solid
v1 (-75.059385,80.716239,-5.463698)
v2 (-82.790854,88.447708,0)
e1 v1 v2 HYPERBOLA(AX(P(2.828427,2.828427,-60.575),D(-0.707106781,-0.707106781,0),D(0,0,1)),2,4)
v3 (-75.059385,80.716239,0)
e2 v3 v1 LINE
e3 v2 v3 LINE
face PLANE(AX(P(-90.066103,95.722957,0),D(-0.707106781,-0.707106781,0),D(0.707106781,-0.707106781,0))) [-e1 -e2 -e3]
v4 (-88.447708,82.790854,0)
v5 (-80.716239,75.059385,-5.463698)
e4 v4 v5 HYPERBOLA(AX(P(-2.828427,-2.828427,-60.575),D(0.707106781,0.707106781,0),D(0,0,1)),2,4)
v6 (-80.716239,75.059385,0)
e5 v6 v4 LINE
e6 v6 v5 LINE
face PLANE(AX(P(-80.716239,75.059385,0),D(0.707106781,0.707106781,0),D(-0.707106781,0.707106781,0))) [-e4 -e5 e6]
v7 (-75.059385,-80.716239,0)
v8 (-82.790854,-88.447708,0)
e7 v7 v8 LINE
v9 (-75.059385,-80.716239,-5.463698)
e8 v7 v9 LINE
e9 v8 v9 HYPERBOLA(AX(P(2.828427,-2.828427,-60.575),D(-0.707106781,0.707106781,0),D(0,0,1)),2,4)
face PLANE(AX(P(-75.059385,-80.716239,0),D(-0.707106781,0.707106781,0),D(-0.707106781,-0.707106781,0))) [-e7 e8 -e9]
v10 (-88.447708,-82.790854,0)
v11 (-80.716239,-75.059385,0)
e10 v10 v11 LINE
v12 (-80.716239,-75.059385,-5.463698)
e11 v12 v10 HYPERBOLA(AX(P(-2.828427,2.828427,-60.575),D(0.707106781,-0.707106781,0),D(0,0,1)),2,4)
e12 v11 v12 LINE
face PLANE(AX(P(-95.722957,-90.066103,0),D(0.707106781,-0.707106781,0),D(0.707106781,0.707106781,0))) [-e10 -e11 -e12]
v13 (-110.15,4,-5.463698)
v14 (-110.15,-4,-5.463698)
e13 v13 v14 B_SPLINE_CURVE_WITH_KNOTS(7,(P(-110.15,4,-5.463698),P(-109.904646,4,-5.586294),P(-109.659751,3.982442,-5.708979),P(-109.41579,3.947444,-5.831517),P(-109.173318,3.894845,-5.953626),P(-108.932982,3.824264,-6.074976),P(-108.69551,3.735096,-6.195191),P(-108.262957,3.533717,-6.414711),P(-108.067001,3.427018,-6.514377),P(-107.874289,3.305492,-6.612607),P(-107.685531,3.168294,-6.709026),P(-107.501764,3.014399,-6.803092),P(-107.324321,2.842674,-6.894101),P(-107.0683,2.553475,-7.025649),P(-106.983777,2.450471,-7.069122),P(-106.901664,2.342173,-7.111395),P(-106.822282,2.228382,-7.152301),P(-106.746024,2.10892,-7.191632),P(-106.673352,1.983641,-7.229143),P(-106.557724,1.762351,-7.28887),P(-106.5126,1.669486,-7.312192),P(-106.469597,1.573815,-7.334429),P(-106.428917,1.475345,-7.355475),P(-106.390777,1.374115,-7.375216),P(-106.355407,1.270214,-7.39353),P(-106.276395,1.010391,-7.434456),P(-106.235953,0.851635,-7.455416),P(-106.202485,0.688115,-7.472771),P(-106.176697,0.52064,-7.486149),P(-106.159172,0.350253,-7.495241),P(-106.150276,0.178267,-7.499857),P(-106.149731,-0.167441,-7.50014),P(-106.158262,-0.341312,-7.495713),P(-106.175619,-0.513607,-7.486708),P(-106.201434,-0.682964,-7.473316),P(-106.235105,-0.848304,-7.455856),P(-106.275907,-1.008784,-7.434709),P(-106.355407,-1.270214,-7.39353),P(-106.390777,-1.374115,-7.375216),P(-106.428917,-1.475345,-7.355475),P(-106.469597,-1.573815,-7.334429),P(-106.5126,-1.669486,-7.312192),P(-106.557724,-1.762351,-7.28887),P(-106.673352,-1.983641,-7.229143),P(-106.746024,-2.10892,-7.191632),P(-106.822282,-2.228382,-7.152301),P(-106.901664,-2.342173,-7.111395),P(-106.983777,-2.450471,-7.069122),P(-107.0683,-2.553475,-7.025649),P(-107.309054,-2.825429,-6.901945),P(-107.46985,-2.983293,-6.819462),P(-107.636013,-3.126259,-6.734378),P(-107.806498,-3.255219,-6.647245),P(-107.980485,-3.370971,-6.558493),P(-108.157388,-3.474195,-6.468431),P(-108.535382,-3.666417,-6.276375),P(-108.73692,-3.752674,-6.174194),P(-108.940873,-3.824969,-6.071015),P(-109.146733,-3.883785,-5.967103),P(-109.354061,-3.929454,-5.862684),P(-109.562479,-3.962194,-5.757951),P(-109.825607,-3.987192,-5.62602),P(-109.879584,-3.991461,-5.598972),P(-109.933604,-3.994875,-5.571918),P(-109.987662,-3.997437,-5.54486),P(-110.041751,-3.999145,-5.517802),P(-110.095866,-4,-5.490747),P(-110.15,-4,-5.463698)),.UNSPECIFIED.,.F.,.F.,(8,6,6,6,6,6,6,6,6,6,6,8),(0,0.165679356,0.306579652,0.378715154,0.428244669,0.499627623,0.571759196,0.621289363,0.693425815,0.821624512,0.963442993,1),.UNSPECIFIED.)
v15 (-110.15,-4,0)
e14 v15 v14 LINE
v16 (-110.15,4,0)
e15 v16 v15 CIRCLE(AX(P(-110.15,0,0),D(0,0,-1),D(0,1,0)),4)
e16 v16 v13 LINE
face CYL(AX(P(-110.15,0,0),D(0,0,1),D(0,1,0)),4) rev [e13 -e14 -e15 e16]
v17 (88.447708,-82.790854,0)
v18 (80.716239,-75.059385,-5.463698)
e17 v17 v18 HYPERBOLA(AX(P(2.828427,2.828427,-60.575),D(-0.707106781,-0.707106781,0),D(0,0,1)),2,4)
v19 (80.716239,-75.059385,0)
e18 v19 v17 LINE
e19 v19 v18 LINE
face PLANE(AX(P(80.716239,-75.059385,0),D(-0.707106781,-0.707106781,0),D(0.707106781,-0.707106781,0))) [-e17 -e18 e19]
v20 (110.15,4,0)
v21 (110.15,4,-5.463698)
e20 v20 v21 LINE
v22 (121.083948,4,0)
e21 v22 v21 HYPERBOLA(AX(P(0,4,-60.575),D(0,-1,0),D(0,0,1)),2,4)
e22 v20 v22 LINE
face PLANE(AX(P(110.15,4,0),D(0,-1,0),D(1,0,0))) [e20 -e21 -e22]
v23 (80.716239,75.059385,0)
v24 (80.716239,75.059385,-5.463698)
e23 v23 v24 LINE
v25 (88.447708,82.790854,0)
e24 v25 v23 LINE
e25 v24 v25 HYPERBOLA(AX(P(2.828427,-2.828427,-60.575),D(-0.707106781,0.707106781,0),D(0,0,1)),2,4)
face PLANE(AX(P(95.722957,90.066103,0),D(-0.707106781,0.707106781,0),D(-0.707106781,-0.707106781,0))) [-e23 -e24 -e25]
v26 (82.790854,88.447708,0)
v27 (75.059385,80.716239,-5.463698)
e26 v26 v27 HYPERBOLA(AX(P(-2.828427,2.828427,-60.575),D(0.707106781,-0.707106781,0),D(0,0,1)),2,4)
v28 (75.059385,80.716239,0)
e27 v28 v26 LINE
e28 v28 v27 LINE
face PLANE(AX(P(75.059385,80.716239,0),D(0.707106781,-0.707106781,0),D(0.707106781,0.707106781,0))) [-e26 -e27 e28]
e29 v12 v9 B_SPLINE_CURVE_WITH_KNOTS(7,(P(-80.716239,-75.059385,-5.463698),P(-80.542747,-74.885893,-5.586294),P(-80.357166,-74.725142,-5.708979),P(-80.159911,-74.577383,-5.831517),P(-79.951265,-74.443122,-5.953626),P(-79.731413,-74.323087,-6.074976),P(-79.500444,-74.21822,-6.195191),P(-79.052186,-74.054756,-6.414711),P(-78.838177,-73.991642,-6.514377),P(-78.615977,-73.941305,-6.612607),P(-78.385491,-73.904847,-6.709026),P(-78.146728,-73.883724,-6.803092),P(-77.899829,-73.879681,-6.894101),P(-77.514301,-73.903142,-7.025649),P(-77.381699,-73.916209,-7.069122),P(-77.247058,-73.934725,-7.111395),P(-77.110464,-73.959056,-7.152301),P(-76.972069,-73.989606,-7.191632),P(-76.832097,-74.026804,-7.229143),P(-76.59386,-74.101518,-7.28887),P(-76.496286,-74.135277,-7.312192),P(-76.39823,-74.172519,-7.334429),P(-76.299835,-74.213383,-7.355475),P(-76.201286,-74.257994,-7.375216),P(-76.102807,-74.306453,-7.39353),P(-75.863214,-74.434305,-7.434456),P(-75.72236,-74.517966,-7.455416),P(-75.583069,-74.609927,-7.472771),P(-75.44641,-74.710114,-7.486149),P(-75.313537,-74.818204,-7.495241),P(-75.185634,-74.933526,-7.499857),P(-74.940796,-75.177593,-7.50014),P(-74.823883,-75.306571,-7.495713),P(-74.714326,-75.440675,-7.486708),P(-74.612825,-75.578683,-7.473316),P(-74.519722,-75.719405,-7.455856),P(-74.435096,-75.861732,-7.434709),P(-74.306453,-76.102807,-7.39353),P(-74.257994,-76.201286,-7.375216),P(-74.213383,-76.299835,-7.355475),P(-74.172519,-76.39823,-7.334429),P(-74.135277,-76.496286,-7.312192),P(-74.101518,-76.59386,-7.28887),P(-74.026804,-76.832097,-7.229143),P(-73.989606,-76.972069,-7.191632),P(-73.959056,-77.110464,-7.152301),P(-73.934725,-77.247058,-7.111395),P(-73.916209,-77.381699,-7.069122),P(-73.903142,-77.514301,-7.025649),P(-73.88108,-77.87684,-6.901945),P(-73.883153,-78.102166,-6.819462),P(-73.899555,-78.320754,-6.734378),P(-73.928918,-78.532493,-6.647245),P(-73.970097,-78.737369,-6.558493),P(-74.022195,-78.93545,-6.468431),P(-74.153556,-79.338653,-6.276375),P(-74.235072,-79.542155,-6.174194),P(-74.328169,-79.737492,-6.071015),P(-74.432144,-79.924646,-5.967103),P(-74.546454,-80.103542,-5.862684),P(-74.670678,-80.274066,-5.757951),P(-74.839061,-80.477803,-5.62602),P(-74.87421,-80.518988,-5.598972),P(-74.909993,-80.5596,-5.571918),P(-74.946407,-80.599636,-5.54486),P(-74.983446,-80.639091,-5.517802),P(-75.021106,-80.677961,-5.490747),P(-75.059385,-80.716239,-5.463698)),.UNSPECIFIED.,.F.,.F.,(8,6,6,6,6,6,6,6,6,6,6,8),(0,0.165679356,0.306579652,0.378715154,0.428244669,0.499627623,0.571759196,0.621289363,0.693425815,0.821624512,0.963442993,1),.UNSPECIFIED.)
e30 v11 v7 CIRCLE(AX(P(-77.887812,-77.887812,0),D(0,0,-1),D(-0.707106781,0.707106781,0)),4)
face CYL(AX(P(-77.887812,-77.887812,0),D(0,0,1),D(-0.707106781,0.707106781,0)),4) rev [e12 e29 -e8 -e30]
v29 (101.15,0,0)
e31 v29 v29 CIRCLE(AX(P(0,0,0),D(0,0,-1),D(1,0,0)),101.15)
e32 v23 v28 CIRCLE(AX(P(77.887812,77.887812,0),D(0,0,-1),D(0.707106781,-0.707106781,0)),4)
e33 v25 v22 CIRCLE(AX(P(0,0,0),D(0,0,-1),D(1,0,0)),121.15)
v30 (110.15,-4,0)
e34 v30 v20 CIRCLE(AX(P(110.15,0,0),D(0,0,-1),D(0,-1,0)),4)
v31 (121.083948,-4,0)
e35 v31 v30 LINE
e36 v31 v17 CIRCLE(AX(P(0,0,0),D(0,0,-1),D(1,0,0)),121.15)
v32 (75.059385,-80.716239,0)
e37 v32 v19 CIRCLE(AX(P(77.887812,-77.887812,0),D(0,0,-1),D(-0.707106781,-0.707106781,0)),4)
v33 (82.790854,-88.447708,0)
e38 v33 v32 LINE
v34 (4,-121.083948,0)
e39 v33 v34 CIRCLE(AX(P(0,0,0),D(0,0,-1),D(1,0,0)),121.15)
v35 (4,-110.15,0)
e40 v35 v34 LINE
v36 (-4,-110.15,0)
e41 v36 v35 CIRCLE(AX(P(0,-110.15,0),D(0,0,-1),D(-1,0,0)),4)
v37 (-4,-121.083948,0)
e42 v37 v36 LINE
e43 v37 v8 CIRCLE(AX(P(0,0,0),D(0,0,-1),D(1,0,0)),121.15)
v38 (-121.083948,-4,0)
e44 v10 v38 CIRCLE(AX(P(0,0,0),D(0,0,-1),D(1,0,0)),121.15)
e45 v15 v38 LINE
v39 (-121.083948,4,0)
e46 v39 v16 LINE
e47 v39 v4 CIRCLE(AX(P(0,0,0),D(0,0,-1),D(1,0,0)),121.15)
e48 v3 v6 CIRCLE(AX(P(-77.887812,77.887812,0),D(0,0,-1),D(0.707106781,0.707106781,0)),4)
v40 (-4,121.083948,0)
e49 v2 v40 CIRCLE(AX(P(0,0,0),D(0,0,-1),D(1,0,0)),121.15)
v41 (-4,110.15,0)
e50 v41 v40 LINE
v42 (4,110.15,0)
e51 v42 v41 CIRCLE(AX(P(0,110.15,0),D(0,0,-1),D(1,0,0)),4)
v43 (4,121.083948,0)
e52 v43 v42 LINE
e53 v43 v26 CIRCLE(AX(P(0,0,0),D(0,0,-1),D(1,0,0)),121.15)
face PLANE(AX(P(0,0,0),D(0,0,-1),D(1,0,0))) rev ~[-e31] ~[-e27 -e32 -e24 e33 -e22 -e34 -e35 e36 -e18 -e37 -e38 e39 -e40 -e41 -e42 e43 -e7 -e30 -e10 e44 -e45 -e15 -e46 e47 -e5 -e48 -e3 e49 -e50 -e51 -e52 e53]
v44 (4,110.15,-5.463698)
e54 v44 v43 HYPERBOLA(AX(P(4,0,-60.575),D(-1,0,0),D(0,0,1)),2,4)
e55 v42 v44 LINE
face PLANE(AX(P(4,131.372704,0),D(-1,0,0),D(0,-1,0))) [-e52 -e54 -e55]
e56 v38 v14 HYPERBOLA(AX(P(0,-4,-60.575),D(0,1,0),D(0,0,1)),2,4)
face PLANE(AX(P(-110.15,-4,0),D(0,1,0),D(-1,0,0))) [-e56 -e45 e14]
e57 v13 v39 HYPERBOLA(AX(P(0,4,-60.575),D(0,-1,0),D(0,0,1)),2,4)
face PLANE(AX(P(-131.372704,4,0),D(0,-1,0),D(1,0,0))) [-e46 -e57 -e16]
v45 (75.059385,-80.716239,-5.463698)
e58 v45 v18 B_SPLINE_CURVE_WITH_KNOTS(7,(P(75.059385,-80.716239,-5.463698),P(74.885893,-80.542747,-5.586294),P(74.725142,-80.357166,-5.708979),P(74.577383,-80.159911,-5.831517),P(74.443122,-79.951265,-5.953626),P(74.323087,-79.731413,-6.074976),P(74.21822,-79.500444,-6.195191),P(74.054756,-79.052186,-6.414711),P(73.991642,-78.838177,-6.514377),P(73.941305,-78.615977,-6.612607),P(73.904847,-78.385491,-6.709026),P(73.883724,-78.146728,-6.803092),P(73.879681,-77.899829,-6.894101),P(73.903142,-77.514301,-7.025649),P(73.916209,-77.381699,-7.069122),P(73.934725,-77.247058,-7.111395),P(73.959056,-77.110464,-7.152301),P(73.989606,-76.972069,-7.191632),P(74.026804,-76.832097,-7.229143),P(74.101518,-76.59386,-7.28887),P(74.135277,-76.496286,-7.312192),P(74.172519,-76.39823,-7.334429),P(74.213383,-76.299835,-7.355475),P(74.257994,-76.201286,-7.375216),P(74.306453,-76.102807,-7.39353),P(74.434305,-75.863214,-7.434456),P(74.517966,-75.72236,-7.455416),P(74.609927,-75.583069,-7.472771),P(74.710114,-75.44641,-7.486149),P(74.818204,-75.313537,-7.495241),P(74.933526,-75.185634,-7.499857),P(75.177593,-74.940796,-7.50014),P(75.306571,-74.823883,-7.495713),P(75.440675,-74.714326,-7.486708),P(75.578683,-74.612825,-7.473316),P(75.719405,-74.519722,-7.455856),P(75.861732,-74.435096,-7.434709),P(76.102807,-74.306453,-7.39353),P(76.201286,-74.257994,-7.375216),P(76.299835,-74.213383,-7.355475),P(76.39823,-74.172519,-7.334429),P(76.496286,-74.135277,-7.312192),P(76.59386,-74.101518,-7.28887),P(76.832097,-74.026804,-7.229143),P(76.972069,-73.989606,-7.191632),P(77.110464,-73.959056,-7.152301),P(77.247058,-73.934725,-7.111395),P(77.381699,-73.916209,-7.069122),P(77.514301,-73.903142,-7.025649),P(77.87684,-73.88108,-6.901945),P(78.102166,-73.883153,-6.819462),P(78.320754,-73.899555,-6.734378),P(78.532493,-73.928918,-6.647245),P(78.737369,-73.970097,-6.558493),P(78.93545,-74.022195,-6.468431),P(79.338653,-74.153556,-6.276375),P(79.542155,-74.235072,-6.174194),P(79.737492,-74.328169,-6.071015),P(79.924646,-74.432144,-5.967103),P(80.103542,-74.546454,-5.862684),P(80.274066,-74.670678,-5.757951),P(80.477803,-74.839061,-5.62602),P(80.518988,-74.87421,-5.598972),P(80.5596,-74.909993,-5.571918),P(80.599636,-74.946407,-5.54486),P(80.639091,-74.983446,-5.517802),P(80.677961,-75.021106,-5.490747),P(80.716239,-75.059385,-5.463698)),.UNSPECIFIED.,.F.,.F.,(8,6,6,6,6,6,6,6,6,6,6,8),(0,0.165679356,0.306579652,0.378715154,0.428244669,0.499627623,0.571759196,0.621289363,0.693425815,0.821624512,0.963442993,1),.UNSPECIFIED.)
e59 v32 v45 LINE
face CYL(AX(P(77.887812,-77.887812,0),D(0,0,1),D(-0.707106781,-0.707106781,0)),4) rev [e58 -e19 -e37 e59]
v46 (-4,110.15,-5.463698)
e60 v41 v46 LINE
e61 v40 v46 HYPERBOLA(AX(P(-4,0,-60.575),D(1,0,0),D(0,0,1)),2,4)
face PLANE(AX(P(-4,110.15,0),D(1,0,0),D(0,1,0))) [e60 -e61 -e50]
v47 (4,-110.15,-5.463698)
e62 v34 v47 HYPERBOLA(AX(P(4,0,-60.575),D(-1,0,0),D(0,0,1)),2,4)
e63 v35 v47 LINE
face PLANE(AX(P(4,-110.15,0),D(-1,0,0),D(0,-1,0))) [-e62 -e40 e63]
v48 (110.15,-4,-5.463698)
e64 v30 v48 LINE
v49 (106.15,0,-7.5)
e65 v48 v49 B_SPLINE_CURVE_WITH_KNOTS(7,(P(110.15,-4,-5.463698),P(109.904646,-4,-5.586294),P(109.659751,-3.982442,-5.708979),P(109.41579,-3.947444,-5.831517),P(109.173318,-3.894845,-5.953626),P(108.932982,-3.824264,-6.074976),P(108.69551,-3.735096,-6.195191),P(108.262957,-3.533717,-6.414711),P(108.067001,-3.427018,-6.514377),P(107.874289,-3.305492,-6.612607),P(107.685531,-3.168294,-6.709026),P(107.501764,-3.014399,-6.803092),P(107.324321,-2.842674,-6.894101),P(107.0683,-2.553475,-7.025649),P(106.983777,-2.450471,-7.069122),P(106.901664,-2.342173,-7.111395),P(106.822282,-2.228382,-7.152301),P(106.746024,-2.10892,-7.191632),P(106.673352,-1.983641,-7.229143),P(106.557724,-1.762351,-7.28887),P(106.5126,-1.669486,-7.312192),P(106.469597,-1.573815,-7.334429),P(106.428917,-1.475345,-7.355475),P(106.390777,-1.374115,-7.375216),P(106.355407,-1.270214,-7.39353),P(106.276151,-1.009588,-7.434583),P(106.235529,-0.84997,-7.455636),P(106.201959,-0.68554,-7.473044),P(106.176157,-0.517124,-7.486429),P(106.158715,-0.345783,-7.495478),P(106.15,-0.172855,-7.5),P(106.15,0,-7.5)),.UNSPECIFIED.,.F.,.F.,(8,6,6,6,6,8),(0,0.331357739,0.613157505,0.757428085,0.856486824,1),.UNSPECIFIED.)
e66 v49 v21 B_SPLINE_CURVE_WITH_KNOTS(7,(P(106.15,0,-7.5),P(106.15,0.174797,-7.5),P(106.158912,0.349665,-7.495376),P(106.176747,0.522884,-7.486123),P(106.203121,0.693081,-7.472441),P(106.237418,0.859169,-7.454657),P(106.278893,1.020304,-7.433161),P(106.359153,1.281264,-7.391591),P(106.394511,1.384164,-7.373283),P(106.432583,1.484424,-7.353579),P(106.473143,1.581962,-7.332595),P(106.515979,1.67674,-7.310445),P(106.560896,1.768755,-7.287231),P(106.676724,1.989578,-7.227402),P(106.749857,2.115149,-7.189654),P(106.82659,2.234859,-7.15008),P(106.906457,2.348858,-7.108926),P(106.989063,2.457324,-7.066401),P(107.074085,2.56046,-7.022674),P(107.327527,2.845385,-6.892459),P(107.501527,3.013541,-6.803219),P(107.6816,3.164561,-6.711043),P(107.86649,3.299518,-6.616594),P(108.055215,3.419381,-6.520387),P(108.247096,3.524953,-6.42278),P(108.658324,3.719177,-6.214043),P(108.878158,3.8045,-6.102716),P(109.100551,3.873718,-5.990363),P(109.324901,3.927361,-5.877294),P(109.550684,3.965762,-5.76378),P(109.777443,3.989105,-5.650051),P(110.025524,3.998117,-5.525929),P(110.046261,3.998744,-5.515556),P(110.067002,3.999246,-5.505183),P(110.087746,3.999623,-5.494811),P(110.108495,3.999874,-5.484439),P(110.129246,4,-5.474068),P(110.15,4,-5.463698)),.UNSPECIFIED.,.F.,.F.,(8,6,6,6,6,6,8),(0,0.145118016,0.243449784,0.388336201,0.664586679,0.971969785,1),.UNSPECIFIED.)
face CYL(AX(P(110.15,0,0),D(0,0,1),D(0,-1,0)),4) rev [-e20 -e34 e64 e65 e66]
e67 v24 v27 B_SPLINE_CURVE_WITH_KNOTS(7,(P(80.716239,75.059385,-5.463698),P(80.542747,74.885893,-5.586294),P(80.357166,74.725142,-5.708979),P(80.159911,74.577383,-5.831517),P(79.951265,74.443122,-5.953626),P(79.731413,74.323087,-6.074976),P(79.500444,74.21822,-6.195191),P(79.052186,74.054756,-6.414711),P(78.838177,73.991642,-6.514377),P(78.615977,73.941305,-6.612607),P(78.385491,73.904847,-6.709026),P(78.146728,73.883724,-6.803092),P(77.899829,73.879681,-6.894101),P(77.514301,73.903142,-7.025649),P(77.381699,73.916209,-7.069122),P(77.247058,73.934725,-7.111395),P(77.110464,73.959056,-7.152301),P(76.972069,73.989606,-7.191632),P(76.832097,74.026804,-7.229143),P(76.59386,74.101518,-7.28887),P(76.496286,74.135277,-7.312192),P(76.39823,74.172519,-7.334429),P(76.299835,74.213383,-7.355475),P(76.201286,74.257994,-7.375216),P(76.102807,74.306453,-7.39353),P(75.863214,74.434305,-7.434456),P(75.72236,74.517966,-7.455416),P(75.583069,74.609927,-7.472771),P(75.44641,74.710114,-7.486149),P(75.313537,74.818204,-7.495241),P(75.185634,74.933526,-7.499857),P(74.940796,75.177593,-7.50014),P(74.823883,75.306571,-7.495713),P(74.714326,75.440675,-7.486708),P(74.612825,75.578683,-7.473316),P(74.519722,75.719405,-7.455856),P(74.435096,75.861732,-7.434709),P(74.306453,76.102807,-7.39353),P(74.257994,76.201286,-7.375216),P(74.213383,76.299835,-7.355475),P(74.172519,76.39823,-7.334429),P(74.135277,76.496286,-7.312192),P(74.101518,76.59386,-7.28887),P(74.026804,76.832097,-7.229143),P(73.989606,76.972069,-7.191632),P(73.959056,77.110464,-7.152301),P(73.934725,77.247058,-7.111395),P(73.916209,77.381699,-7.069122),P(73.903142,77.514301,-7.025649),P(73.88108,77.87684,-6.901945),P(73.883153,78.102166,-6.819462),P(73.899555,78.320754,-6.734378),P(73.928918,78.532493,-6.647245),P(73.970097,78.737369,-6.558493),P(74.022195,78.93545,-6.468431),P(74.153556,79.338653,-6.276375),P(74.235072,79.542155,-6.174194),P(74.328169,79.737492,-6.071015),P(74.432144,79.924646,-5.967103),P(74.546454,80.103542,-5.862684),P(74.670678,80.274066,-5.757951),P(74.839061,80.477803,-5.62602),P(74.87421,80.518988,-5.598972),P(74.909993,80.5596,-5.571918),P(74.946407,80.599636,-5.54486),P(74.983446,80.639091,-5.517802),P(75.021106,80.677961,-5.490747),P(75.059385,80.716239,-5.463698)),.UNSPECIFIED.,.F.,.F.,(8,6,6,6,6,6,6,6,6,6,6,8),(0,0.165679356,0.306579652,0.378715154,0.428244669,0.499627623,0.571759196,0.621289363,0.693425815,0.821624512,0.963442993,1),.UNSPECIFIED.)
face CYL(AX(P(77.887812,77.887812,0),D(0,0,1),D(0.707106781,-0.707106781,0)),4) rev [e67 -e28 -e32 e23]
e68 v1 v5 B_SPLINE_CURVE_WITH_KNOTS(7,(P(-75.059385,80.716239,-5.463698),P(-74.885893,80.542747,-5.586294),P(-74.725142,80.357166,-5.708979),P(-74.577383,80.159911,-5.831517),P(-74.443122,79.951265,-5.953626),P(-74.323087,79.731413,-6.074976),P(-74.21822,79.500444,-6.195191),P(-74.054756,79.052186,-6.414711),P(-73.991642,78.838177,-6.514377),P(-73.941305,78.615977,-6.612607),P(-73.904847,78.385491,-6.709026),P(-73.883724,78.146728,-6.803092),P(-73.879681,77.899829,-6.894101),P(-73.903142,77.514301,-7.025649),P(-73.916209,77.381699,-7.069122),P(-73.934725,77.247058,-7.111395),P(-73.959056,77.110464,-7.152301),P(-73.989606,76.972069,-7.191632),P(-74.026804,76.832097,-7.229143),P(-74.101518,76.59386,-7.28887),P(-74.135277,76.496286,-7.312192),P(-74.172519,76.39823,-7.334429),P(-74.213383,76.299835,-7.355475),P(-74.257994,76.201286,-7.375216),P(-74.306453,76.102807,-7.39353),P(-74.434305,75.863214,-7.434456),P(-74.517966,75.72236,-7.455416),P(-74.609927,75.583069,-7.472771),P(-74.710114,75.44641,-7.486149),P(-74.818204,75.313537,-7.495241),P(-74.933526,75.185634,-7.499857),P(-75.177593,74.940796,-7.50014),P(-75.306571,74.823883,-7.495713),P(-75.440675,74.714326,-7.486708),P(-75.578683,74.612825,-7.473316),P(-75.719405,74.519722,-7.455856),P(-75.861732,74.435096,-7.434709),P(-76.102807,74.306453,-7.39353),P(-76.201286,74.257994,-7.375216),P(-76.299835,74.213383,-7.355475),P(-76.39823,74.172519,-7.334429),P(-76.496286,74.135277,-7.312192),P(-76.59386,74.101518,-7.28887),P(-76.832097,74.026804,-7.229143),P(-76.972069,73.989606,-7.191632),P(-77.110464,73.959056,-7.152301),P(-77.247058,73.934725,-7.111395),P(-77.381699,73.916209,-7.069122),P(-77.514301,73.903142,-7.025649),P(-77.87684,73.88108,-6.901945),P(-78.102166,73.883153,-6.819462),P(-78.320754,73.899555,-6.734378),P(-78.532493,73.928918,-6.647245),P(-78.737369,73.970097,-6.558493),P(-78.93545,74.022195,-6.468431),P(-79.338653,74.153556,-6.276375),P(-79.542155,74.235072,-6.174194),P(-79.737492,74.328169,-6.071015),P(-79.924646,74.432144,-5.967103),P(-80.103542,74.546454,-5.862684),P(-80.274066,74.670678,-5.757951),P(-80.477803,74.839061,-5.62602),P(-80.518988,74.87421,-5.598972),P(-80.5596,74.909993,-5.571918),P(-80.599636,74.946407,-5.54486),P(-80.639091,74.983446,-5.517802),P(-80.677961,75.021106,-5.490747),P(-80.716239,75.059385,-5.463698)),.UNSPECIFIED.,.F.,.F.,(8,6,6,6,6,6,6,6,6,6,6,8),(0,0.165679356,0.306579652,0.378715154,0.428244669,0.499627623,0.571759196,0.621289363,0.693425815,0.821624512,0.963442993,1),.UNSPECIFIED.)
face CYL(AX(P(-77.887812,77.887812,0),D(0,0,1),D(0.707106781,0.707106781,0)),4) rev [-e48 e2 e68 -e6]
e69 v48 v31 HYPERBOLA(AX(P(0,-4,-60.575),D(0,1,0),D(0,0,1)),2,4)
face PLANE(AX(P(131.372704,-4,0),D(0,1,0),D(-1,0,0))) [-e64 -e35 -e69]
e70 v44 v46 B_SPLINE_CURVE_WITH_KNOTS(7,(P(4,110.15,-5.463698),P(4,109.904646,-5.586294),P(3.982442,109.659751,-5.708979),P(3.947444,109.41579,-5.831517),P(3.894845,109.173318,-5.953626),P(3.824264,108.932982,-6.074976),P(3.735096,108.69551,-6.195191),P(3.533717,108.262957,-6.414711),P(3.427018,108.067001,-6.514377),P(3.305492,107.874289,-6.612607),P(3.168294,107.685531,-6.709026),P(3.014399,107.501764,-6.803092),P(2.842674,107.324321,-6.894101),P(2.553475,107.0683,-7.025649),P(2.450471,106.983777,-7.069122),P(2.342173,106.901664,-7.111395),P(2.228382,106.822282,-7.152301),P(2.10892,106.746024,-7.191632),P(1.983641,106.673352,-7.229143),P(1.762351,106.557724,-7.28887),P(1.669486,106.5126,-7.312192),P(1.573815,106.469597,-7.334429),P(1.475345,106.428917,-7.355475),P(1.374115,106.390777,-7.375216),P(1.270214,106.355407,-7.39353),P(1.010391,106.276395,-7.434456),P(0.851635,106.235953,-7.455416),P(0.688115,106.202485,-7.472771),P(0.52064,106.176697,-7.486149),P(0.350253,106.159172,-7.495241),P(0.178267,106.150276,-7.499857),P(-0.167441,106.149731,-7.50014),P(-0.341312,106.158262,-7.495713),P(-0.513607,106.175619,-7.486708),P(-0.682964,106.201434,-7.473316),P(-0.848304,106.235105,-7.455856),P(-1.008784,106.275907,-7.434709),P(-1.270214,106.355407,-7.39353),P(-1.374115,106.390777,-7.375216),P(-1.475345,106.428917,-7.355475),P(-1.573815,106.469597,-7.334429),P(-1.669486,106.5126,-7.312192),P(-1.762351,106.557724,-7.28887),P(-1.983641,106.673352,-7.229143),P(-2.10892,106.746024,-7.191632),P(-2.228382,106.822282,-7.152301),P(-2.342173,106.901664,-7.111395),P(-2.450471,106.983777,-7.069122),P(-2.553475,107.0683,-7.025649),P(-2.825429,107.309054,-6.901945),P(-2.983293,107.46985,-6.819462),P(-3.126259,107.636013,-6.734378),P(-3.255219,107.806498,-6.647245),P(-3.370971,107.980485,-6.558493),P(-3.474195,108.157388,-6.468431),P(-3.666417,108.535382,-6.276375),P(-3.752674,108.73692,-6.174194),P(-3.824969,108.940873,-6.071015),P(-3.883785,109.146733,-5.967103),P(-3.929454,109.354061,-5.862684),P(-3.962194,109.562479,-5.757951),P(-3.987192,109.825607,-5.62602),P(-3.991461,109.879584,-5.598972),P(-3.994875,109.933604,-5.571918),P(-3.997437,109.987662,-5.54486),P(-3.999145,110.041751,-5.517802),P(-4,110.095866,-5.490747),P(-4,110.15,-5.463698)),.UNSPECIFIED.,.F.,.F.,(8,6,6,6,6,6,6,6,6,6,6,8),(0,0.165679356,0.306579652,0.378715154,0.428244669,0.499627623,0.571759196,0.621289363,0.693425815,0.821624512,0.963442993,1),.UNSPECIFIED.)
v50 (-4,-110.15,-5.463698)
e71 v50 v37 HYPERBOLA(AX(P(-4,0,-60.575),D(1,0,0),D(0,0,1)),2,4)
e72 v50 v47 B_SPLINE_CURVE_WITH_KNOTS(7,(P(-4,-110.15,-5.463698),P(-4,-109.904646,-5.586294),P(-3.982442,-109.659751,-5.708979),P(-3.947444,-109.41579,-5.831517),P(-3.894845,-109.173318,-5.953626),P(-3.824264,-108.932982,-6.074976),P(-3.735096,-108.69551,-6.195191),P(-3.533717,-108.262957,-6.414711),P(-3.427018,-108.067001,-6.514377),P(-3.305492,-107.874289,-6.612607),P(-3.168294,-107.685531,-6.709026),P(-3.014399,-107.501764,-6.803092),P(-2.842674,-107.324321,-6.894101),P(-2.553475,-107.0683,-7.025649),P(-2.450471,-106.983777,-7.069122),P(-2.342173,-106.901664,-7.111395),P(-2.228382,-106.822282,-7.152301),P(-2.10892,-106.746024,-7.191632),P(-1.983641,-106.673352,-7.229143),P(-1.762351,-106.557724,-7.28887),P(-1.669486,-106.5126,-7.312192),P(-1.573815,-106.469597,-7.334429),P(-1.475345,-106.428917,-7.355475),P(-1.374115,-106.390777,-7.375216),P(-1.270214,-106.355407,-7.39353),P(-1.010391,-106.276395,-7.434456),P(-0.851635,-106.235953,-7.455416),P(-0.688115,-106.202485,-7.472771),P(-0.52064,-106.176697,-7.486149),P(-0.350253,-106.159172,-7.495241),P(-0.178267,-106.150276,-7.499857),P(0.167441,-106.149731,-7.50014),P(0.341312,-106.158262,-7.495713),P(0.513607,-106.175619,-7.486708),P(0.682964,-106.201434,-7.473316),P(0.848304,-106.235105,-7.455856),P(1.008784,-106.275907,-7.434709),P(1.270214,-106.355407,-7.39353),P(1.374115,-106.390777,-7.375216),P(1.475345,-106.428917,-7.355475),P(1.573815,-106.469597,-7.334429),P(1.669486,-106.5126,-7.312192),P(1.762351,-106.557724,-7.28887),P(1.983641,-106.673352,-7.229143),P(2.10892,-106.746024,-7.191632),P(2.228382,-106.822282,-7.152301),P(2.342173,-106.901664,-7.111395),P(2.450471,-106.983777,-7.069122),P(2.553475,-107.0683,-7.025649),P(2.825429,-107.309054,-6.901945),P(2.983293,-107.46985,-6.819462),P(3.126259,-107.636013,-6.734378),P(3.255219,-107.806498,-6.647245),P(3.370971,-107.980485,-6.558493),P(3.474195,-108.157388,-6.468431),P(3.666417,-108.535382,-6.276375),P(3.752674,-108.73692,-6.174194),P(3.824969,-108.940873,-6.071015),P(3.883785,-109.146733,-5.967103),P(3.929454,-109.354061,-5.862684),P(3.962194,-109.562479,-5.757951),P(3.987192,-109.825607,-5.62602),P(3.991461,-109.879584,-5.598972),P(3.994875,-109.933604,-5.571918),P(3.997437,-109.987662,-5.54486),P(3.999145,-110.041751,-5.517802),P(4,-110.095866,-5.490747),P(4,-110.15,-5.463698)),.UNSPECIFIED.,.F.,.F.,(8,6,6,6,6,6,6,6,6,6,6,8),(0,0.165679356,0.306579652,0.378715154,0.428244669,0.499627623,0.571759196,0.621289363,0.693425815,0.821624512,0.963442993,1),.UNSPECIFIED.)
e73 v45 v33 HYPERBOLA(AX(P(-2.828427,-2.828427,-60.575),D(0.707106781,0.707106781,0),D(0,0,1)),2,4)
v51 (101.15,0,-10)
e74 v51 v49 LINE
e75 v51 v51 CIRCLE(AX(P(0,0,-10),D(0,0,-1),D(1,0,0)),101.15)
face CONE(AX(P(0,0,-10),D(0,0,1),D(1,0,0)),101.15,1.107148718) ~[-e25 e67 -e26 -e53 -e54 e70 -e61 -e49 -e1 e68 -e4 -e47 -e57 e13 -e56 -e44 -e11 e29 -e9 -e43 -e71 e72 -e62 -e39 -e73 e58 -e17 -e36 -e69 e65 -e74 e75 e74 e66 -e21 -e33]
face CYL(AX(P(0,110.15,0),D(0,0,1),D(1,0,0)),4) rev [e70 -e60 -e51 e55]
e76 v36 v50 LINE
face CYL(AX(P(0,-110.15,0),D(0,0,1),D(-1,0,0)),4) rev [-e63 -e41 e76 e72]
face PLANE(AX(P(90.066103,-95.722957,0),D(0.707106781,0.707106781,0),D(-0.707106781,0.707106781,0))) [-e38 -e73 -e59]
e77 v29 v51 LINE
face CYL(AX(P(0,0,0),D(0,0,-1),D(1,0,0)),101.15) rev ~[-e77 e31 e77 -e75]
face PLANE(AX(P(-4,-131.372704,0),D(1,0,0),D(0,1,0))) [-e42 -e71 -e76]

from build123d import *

# Parameters (mm, degrees)
CUT_EXTRUDE1_DEPTH = 10
CIRPATTERN1_COUNT  = 8


with BuildPart() as part:
    # Sketch2 → Revolve1 (revolve)
    with BuildSketch(Plane(origin=(0, 0, 0), x_dir=(0, 0, -1), z_dir=(1, 0, 0)), mode=Mode.PRIVATE) as revolve1_sk:
        Polygon((0, 121.15), (0, 101.15), (10, 101.15), align=None)
    revolve(revolve1_sk.sketch.rotate(Axis((0, 0, 25.61681186), (0, 0, -1)), 90), axis=Axis((0, 0, 25.61681186), (0, 0, -1)))

    # Sketch3 → Cut-Extrude1 (cut)
    with BuildSketch(Plane.XY):
        with BuildLine():
            Line((-4, 110.15), (-4, 131.372704066))
            Line((-4, 131.372704066), (4, 131.372704066))
            Line((4, 131.372704066), (4, 110.15))
            ThreePointArc((4, 110.15), (0, 106.15), (-4, 110.15))
        make_face()
    cut_extrude1 = extrude(amount=-CUT_EXTRUDE1_DEPTH, mode=Mode.SUBTRACT)

    # CirPattern1: Cut-Extrude1 ×8 about axis
    cirpattern1_axis = Axis((0, 0, 0), (0, 0, 1))
    for i in range(1, CIRPATTERN1_COUNT):
        add(cut_extrude1.rotate(cirpattern1_axis, i * 360 / CIRPATTERN1_COUNT), mode=Mode.SUBTRACT)


solid = part.part
